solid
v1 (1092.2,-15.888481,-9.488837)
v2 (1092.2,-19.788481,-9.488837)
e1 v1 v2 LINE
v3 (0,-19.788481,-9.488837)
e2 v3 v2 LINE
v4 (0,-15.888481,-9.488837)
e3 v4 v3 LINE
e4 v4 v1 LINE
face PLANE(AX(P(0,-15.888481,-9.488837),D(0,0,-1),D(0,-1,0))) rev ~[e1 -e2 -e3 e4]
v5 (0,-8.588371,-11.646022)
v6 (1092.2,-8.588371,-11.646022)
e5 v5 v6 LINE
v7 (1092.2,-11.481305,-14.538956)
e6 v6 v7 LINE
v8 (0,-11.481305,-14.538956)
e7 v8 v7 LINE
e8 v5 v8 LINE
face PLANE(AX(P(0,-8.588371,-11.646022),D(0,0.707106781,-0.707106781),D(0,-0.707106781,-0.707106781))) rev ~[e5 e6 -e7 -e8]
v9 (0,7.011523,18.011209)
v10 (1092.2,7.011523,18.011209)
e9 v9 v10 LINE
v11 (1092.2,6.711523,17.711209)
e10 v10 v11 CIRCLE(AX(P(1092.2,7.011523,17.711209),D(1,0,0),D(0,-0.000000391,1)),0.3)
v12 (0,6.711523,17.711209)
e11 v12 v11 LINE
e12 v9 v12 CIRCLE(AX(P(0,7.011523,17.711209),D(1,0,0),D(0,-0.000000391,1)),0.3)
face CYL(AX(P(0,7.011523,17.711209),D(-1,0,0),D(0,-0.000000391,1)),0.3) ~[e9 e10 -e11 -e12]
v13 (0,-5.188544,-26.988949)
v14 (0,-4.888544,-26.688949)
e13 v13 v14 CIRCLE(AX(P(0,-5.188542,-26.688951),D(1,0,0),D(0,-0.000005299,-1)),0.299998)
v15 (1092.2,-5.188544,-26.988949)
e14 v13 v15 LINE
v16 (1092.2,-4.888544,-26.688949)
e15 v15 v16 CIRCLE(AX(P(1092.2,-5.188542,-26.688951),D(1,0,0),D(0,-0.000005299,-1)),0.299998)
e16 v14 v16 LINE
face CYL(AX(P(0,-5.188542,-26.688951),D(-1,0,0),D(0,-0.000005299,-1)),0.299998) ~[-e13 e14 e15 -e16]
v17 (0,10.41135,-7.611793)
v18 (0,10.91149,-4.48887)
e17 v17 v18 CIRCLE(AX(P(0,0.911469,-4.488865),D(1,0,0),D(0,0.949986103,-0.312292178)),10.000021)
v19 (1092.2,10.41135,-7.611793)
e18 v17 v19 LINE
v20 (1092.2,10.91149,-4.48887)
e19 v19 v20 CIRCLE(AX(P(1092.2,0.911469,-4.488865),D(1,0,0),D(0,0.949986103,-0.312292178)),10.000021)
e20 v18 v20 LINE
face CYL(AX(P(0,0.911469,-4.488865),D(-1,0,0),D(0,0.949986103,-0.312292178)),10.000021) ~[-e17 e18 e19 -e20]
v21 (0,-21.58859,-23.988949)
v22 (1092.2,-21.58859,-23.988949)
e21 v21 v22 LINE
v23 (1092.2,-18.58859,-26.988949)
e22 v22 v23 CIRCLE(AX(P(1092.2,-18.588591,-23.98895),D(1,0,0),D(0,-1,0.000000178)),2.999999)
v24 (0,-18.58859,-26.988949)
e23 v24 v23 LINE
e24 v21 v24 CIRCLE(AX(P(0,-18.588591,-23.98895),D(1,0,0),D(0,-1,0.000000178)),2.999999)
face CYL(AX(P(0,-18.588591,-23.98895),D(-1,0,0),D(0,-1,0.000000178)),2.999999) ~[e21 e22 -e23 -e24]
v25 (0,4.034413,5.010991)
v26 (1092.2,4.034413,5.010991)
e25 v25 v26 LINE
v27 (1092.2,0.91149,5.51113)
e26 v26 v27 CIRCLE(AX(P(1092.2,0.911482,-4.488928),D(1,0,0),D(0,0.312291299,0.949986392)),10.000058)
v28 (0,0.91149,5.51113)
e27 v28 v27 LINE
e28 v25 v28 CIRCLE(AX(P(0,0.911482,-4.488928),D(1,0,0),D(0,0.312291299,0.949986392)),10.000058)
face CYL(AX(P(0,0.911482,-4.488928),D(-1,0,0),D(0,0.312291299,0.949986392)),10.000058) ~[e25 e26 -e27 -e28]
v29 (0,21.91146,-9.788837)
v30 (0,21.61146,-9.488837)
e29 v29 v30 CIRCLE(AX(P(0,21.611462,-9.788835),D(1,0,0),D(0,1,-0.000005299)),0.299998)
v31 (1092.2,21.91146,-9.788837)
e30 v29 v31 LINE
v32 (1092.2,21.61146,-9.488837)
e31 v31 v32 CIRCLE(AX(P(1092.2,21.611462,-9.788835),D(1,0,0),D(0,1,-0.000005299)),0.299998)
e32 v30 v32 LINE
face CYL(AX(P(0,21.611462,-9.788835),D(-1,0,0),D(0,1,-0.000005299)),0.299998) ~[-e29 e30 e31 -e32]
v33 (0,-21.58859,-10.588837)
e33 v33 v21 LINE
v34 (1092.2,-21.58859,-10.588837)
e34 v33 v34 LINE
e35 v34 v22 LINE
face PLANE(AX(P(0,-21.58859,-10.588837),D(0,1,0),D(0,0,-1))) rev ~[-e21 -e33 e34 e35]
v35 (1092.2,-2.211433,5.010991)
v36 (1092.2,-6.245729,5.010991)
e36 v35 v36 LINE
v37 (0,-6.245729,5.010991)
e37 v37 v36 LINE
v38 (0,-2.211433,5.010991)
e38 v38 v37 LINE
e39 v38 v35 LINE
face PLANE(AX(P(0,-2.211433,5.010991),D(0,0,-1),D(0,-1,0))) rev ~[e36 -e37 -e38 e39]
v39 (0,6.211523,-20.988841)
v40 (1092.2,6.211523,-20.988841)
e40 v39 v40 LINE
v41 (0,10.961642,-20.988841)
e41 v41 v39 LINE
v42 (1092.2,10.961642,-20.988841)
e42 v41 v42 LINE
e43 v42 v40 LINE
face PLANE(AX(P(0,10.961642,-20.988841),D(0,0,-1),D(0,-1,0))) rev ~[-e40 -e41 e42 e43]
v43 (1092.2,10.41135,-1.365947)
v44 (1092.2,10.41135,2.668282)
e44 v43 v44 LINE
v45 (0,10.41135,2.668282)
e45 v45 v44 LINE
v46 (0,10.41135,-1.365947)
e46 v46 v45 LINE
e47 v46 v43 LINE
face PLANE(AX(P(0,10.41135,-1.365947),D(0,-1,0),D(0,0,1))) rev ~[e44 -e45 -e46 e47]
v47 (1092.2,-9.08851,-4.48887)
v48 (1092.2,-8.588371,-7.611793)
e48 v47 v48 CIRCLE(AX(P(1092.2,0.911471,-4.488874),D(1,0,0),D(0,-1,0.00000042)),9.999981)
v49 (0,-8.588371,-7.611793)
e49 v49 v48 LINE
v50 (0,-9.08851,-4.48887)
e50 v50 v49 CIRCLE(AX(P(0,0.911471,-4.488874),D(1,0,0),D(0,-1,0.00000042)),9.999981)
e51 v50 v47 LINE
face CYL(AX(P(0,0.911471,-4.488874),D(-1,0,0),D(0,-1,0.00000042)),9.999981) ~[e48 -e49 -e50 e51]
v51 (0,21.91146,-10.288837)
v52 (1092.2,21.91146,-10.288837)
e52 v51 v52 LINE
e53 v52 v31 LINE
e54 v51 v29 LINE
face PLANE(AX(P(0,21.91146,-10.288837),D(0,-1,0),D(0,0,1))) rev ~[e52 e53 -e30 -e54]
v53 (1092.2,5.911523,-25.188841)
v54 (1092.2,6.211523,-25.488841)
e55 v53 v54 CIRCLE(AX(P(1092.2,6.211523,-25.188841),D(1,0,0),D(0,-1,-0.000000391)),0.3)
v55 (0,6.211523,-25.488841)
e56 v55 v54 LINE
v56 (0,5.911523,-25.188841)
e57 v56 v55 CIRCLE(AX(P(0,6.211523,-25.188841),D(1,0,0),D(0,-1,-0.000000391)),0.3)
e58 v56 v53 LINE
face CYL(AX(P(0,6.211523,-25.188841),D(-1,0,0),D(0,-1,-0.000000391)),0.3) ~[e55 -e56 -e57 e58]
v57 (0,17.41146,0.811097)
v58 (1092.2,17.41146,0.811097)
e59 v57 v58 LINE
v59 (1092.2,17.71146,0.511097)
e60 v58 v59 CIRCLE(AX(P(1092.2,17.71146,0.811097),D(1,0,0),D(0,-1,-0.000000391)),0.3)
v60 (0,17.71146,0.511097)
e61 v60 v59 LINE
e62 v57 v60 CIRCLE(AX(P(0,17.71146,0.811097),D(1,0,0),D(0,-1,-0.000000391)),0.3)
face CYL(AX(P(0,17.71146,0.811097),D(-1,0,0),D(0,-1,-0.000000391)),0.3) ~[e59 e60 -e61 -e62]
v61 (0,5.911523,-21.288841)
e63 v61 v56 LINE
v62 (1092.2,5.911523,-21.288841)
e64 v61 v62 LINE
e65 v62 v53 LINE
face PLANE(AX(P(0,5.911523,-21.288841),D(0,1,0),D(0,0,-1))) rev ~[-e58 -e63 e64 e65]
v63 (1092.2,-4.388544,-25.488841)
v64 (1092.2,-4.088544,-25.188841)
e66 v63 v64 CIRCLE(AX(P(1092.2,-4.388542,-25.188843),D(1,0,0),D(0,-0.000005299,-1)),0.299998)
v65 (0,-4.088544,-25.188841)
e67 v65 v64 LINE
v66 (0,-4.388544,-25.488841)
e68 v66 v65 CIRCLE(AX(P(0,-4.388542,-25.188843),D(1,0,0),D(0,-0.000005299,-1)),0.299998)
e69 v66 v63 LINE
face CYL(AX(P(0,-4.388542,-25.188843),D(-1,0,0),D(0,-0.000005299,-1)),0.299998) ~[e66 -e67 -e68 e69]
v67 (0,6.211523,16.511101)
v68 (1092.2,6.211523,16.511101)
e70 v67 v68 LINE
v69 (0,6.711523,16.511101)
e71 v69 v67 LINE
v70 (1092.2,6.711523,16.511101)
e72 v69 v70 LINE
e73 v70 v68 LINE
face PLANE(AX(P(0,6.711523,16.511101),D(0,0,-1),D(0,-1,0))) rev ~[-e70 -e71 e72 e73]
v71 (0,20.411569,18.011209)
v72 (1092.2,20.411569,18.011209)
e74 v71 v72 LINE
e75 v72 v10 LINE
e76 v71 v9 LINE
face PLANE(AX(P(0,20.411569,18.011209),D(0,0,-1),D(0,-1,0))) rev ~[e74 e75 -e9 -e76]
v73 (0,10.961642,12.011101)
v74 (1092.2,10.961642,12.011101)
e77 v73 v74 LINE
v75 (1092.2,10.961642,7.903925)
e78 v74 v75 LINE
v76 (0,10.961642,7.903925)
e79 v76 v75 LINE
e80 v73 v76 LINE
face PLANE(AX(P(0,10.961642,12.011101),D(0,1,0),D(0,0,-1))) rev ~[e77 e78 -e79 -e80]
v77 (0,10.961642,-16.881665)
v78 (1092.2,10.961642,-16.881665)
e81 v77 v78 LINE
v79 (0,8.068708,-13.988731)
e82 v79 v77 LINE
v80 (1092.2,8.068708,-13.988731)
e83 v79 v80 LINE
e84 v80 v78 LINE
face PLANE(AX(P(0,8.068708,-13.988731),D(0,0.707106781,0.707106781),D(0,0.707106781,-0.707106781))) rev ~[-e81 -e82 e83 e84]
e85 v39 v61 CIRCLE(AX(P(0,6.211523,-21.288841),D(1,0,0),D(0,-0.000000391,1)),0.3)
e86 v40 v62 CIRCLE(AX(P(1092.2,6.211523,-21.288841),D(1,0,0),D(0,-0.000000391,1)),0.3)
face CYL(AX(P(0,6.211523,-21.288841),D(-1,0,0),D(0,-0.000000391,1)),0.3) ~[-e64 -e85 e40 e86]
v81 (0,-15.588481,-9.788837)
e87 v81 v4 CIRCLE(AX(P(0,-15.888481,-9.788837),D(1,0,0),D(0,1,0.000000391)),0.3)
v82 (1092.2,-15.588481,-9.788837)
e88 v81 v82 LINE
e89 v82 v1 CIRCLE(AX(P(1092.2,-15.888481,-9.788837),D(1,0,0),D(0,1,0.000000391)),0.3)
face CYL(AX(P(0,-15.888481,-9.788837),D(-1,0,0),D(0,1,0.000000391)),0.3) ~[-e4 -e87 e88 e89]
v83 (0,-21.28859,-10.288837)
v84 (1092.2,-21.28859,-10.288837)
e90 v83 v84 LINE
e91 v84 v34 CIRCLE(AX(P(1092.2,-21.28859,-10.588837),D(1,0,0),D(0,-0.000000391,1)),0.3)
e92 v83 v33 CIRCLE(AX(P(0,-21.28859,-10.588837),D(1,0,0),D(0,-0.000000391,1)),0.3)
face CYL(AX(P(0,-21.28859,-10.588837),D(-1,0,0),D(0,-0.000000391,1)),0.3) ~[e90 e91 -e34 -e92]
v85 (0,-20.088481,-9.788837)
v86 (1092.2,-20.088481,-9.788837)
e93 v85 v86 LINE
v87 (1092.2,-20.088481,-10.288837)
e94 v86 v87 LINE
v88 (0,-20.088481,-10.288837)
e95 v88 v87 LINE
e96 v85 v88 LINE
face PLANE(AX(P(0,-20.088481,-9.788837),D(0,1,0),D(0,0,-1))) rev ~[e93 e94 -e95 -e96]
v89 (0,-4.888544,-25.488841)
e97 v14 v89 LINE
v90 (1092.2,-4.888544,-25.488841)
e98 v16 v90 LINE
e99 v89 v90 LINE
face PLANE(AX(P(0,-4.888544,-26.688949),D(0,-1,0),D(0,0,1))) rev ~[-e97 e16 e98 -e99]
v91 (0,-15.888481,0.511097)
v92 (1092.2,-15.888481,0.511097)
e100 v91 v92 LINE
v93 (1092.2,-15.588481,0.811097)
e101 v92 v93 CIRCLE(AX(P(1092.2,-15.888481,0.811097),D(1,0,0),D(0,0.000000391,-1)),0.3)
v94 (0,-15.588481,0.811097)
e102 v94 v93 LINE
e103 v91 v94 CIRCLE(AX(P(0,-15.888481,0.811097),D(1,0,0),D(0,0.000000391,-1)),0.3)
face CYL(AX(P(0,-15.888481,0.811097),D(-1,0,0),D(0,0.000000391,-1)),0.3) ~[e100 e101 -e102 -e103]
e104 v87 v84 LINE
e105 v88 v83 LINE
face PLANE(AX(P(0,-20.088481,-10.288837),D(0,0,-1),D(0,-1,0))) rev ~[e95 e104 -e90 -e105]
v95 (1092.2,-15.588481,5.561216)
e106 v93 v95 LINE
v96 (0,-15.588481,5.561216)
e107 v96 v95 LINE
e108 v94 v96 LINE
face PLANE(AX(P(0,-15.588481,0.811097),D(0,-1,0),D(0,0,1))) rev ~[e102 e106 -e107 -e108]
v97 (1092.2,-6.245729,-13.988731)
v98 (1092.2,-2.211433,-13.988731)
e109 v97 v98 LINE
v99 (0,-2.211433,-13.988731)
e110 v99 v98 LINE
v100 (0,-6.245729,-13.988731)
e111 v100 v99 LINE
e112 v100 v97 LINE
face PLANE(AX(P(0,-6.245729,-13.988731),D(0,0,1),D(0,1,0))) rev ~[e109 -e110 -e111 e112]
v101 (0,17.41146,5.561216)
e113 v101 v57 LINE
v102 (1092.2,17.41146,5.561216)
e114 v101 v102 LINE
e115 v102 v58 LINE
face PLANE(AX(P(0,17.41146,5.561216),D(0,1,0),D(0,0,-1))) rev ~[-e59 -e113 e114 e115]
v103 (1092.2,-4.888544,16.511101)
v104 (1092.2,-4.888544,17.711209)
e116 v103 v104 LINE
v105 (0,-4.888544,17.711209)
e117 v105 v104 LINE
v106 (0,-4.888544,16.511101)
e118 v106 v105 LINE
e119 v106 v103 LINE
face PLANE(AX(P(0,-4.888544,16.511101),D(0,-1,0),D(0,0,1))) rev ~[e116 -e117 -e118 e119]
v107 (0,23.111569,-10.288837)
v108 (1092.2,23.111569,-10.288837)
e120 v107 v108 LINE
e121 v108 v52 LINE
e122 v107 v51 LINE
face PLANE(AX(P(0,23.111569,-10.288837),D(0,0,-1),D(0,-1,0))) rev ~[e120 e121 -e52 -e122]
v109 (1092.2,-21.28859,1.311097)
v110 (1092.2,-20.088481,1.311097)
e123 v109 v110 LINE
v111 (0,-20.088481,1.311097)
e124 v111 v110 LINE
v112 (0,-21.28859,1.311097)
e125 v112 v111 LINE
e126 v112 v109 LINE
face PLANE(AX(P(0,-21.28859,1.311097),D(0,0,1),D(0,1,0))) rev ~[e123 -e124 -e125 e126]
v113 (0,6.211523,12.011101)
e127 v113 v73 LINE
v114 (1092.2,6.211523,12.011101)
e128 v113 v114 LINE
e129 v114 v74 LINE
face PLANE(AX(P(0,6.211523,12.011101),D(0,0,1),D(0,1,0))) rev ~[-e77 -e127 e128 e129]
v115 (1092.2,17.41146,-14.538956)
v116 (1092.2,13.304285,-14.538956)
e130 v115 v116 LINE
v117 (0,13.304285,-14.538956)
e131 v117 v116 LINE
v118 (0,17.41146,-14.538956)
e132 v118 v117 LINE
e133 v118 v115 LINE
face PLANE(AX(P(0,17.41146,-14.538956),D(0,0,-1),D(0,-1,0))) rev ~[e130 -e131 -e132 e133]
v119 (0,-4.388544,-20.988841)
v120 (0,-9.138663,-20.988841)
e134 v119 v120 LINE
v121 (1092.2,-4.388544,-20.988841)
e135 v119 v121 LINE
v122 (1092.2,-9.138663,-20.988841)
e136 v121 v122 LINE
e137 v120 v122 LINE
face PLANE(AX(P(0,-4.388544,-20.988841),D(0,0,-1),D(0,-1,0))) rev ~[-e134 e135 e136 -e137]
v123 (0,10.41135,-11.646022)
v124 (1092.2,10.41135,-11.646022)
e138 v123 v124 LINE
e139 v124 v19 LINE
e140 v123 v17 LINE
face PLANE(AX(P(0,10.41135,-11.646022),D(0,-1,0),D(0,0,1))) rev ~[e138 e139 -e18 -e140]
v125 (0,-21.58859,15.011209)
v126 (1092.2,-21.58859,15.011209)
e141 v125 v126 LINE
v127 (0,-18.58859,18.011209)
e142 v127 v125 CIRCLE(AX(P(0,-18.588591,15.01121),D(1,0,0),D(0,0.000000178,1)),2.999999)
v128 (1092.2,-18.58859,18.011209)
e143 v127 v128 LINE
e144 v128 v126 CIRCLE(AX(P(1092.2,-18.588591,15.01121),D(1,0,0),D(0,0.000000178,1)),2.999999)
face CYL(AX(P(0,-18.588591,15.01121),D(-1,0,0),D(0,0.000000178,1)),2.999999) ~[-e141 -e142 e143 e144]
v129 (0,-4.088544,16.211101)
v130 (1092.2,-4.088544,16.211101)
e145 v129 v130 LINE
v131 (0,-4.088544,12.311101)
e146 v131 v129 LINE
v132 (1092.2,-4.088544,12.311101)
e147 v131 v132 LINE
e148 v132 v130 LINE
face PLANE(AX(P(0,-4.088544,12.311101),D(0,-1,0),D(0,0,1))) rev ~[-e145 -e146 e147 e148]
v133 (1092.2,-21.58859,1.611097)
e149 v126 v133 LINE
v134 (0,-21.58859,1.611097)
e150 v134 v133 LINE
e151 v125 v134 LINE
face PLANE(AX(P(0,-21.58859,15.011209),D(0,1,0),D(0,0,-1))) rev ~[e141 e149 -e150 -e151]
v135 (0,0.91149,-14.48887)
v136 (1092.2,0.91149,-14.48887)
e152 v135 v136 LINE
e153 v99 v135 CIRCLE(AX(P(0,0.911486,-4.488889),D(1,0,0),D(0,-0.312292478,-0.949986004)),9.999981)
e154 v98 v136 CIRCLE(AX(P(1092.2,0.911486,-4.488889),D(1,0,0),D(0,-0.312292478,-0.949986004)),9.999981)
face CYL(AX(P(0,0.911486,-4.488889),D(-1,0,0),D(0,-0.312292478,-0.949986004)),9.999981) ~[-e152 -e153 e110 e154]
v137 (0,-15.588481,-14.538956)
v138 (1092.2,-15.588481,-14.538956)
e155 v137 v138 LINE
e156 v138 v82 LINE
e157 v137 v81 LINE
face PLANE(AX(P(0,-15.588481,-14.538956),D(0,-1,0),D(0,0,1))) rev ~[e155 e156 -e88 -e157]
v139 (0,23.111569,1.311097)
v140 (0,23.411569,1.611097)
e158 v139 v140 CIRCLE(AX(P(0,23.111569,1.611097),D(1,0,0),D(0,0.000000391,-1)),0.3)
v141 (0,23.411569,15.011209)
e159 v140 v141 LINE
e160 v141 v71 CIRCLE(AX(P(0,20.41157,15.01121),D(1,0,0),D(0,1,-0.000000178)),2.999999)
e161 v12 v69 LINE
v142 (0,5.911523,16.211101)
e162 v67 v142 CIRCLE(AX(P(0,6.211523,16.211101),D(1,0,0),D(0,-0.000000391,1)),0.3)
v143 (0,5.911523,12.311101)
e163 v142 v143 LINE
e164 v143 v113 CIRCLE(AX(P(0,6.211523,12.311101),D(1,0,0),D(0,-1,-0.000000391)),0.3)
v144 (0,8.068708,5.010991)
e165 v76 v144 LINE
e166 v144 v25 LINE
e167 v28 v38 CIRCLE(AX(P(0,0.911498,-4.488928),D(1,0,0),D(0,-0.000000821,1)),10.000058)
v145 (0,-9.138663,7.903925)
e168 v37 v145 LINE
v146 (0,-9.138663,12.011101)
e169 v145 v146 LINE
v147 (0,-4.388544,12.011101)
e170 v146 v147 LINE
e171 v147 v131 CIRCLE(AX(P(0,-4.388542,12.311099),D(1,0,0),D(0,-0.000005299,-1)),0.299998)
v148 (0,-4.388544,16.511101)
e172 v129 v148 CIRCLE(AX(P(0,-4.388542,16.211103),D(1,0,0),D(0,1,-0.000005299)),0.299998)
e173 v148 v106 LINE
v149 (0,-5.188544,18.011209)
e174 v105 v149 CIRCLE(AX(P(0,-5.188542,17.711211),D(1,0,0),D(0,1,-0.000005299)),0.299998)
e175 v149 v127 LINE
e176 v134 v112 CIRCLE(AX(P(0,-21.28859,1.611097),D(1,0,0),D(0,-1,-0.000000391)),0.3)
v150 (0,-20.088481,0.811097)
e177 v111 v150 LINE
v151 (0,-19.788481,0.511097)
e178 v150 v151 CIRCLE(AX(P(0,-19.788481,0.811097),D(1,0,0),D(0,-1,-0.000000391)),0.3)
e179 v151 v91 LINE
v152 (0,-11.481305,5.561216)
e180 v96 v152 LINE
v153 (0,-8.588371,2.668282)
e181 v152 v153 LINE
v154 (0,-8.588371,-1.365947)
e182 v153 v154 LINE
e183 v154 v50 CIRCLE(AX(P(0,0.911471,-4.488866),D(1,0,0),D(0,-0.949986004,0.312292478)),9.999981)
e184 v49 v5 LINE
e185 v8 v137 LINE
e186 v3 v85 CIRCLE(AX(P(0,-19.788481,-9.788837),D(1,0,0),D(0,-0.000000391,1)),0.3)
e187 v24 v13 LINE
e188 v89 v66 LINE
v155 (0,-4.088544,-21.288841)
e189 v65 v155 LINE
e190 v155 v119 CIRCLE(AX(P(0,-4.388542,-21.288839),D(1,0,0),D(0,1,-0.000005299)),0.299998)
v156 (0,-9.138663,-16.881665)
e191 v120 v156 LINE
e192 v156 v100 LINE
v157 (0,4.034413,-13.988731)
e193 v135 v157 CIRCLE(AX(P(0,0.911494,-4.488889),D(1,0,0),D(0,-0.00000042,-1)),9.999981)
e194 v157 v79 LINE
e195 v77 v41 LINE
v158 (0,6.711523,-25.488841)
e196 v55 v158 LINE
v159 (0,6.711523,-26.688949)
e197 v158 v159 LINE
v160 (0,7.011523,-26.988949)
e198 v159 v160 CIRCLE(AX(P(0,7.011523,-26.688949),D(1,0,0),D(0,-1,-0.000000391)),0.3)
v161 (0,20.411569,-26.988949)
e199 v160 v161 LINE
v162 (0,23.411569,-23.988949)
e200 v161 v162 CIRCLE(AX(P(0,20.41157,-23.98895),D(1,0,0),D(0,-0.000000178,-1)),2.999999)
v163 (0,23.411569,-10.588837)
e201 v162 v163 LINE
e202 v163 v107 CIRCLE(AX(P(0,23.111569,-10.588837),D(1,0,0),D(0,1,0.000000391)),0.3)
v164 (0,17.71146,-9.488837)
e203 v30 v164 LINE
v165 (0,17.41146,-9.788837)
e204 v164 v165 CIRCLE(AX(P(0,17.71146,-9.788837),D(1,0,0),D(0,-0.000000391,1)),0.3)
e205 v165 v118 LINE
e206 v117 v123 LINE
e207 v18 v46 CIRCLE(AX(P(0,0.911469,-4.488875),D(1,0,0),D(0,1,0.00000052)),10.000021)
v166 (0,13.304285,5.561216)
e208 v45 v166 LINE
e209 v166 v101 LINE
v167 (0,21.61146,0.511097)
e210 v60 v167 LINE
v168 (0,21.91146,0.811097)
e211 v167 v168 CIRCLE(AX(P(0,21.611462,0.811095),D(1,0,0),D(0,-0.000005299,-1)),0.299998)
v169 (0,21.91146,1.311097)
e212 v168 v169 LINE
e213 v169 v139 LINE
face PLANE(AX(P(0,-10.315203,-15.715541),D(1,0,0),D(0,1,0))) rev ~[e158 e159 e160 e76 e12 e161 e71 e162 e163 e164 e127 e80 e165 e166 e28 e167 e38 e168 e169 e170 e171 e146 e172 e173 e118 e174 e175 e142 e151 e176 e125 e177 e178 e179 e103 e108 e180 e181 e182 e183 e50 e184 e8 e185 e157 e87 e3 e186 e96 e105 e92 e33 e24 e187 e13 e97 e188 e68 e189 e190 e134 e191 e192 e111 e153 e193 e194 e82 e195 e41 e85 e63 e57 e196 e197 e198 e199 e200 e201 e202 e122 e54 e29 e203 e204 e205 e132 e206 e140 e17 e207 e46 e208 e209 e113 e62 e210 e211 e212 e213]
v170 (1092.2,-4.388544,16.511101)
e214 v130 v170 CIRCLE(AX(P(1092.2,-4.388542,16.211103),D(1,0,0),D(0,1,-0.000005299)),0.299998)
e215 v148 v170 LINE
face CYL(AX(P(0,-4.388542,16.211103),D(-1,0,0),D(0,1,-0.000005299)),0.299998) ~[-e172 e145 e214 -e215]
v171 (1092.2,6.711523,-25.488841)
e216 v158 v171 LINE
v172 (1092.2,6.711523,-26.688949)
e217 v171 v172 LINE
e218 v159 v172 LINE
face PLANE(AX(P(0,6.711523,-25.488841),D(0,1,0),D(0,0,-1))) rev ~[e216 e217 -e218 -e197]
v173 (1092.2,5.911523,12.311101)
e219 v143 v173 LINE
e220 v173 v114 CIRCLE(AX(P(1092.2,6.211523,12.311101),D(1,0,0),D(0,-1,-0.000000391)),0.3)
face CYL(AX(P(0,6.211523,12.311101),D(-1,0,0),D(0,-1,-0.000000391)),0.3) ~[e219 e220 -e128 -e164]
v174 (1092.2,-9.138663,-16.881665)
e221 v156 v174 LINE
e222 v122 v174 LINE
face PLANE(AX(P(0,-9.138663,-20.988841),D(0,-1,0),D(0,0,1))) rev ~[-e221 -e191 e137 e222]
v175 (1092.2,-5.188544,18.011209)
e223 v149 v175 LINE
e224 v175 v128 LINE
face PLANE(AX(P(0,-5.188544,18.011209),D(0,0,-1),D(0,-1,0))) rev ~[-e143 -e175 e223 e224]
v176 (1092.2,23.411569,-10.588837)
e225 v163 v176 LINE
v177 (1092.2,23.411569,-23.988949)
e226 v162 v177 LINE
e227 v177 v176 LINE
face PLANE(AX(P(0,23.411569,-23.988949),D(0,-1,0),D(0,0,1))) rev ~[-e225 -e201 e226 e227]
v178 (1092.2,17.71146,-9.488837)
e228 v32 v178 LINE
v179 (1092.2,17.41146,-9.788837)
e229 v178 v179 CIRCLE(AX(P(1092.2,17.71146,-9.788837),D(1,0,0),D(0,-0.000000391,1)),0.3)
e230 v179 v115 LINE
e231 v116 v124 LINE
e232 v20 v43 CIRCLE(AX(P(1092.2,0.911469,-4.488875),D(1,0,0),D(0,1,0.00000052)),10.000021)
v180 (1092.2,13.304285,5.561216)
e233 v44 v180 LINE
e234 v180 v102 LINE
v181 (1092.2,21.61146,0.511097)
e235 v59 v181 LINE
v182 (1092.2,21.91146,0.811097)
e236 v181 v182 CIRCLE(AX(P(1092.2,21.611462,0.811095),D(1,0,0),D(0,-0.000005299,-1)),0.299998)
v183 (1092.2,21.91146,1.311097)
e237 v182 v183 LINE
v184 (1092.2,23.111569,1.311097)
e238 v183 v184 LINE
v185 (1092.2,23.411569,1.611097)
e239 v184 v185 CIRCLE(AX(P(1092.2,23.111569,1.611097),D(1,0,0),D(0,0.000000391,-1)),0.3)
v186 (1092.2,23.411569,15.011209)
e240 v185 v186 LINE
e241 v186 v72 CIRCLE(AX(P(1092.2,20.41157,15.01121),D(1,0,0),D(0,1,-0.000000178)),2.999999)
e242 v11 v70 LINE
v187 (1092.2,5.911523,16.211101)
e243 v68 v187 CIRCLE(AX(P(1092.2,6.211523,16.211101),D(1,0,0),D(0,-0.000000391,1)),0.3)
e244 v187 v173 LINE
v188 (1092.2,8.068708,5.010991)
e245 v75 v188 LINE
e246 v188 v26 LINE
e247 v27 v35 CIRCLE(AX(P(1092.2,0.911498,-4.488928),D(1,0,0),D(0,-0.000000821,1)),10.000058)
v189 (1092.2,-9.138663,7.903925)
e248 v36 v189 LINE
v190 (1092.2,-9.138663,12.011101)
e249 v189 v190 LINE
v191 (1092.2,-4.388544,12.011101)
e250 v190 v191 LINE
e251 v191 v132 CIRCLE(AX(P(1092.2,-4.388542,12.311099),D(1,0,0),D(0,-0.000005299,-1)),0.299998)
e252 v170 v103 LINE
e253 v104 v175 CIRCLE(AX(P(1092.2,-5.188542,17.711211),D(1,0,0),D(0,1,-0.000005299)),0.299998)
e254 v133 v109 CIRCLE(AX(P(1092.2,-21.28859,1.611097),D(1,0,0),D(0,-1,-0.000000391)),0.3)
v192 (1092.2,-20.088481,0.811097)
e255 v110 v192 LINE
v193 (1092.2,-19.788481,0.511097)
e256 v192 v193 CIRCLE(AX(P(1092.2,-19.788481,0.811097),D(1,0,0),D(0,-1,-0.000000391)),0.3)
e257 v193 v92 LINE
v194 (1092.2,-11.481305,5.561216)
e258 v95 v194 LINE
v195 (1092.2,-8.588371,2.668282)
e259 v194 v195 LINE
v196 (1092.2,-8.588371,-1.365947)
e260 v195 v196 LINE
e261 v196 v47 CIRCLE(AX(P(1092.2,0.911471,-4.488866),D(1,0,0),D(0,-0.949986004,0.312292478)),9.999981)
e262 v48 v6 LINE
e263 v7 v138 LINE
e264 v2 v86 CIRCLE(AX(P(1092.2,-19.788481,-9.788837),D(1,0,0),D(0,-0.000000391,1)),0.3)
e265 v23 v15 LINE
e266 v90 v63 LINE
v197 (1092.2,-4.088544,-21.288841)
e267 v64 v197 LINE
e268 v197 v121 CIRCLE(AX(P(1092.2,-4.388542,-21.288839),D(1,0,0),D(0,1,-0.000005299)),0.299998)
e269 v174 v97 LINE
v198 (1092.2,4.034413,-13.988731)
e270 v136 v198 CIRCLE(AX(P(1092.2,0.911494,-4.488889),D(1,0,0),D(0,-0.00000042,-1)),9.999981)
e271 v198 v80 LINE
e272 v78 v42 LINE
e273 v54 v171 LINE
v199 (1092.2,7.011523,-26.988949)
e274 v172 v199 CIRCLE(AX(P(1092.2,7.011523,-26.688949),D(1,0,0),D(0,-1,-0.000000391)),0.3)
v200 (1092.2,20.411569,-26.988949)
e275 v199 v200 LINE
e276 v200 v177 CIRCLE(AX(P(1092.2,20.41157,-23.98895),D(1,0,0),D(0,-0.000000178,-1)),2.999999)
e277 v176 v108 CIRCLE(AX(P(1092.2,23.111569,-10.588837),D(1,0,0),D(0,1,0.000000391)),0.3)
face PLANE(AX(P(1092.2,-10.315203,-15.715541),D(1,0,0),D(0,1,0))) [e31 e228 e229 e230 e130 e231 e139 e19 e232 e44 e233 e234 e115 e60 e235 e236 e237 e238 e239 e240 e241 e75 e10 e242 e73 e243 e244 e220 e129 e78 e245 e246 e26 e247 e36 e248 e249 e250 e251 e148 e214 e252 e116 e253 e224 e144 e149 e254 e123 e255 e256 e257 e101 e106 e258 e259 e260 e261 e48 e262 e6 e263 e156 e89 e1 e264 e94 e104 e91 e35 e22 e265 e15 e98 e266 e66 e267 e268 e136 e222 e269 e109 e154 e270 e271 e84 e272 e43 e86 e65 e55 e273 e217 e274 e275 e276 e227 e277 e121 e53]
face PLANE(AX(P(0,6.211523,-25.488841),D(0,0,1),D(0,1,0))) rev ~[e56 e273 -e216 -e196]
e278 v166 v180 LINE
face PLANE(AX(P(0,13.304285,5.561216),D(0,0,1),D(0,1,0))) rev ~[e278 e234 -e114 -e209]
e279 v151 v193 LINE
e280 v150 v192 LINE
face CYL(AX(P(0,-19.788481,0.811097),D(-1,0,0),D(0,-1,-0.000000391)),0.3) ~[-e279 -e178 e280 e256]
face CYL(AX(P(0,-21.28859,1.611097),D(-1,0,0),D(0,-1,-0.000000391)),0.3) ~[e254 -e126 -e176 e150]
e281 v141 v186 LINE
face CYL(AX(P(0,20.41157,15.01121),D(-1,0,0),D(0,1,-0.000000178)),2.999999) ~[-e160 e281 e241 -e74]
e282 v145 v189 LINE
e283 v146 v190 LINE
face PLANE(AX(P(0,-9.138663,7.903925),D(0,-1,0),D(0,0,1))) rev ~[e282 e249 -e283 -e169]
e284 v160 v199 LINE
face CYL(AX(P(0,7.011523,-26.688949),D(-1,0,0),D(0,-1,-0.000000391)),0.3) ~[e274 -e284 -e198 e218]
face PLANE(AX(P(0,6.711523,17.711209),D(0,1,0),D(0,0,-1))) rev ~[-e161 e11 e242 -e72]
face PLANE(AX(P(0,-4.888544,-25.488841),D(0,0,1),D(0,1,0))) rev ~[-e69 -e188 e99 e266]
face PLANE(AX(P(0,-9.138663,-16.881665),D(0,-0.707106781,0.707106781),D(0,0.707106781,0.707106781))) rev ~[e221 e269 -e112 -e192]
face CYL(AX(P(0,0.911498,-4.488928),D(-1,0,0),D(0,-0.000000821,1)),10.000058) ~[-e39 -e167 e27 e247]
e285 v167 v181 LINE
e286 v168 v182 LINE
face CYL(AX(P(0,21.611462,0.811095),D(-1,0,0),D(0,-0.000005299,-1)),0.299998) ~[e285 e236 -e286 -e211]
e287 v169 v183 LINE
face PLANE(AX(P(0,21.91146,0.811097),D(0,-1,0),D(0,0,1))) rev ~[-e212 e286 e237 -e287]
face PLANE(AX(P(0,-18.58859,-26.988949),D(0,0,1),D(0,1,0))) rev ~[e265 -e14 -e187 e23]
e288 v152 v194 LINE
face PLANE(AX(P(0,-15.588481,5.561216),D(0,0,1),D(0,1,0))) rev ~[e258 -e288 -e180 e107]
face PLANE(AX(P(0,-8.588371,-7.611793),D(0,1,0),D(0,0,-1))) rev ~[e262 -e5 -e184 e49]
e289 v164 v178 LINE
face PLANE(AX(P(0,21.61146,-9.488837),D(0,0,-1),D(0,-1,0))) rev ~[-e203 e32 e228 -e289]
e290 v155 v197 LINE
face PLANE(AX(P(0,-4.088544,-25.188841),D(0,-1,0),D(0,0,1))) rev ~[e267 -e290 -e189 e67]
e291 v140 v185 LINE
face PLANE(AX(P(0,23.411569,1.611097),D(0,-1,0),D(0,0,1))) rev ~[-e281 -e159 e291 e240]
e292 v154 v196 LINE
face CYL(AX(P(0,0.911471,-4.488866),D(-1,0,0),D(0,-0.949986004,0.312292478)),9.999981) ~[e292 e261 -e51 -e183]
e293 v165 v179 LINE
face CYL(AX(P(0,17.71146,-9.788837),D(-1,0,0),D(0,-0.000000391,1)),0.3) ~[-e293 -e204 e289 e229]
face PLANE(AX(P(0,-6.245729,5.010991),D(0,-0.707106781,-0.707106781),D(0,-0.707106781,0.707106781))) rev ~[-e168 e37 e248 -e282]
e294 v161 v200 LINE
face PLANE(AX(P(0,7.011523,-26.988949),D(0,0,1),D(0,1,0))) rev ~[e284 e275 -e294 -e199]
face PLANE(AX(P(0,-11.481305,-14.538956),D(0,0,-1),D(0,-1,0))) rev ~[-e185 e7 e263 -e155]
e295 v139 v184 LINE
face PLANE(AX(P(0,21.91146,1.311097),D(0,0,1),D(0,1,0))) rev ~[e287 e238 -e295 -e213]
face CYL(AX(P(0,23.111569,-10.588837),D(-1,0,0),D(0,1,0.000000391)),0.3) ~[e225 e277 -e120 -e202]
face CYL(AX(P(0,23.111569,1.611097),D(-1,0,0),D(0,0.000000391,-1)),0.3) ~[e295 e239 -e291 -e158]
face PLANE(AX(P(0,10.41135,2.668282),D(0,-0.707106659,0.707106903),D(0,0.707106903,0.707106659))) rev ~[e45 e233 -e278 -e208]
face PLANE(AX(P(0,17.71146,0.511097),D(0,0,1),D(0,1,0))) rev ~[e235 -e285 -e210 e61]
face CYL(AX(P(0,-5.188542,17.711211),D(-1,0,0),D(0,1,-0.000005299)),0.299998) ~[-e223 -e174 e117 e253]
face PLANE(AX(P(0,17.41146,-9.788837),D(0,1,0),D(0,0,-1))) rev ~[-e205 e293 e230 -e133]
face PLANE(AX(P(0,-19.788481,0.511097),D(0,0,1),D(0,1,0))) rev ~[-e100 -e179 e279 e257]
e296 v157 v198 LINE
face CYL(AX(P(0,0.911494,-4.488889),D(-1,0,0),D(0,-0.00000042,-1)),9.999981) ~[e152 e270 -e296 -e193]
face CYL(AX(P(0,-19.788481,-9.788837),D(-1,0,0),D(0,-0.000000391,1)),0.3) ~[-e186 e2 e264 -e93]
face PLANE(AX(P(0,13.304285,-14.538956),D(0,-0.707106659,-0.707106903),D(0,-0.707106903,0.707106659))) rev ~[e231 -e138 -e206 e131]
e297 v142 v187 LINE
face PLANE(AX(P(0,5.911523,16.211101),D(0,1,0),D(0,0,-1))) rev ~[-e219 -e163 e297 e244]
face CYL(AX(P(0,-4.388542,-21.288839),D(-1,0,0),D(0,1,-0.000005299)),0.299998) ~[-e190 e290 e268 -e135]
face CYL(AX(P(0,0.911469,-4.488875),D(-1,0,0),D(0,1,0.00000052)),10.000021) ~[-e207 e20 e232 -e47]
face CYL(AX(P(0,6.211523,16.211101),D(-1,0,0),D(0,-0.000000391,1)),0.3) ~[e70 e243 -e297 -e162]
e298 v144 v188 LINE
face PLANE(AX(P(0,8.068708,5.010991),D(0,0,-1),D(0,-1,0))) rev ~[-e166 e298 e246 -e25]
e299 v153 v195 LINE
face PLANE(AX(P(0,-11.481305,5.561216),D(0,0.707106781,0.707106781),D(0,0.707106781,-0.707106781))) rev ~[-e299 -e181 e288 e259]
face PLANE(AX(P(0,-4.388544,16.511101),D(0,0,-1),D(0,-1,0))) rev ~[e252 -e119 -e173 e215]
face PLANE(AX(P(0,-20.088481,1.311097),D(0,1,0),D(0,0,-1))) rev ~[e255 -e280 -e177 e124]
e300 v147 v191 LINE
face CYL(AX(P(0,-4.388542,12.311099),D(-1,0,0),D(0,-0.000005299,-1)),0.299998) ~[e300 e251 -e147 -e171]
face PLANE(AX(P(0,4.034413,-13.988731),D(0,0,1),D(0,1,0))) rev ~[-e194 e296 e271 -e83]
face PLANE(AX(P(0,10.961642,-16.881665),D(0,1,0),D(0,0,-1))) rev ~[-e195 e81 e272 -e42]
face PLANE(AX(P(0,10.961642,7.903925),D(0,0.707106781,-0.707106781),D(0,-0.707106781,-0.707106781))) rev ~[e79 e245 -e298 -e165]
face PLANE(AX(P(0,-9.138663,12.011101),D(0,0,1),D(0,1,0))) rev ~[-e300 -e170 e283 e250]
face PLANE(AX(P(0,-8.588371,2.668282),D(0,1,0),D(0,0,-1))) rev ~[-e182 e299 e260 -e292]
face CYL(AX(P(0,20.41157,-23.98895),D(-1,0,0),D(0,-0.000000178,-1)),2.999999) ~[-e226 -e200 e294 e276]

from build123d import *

# Parameters (mm, degrees)
F1_DEPTH = 1092.2


with BuildPart() as f1:
    # F0 (on Right) → F1 (new body)
    with BuildSketch(Plane.YZ):
        with BuildLine():
            Line((-20.088481, -9.788837), (-20.088481, -10.288837))
            Line((-20.088481, -10.288837), (-21.28859, -10.288837))
            ThreePointArc((-21.28859, -10.288837), (-21.500722, -10.376705), (-21.58859, -10.588837))
            Line((-21.58859, -10.588837), (-21.58859, -23.988949))
            ThreePointArc((-21.58859, -23.988949), (-20.70991, -26.11027), (-18.58859, -26.988949))
            Line((-18.58859, -26.988949), (-5.188544, -26.988949))
            ThreePointArc((-5.188544, -26.988949), (-4.976411, -26.901081), (-4.888544, -26.688949))
            Line((-4.888544, -26.688949), (-4.888544, -25.488841))
            Line((-4.888544, -25.488841), (-4.388544, -25.488841))
            ThreePointArc((-4.388544, -25.488841), (-4.176411, -25.400973), (-4.088544, -25.188841))
            Line((-4.088544, -25.188841), (-4.088544, -21.288841))
            ThreePointArc((-4.088544, -21.288841), (-4.176411, -21.076709), (-4.388544, -20.988841))
            Line((-4.388544, -20.988841), (-9.138663, -20.988841))
            Line((-9.138663, -20.988841), (-9.138663, -16.881665))
            Line((-9.138663, -16.881665), (-6.245729, -13.988731))
            Line((-6.245729, -13.988731), (-2.211433, -13.988731))
            ThreePointArc((-2.211433, -13.988731), (-0.669869, -14.363044), (0.91149, -14.48887))
            Line((0.91149, -14.48887), (0.91149, -4.48887))
            Line((0.91149, -4.48887), (-9.08851, -4.48887))
            ThreePointArc((-9.08851, -4.48887), (-8.962684, -6.070229), (-8.588371, -7.611793))
            Line((-8.588371, -7.611793), (-8.588371, -11.646022))
            Line((-8.588371, -11.646022), (-11.481305, -14.538956))
            Line((-11.481305, -14.538956), (-15.588481, -14.538956))
            Line((-15.588481, -14.538956), (-15.588481, -9.788837))
            ThreePointArc((-15.588481, -9.788837), (-15.676349, -9.576705), (-15.888481, -9.488837))
            Line((-15.888481, -9.488837), (-19.788481, -9.488837))
            ThreePointArc((-19.788481, -9.488837), (-20.000613, -9.576705), (-20.088481, -9.788837))
        make_face()
        with BuildLine():
            ThreePointArc((-8.588371, -1.365947), (-8.962684, -2.907511), (-9.08851, -4.48887))
            Line((-9.08851, -4.48887), (0.91149, -4.48887))
            Line((0.91149, -4.48887), (0.91149, 5.51113))
            ThreePointArc((0.91149, 5.51113), (-0.669869, 5.385303), (-2.211433, 5.010991))
            Line((-2.211433, 5.010991), (-6.245729, 5.010991))
            Line((-6.245729, 5.010991), (-9.138663, 7.903925))
            Line((-9.138663, 7.903925), (-9.138663, 12.011101))
            Line((-9.138663, 12.011101), (-4.388544, 12.011101))
            ThreePointArc((-4.388544, 12.011101), (-4.176411, 12.098969), (-4.088544, 12.311101))
            Line((-4.088544, 12.311101), (-4.088544, 16.211101))
            ThreePointArc((-4.088544, 16.211101), (-4.176411, 16.423233), (-4.388544, 16.511101))
            Line((-4.388544, 16.511101), (-4.888544, 16.511101))
            Line((-4.888544, 16.511101), (-4.888544, 17.711209))
            ThreePointArc((-4.888544, 17.711209), (-4.976411, 17.923341), (-5.188544, 18.011209))
            Line((-5.188544, 18.011209), (-18.58859, 18.011209))
            ThreePointArc((-18.58859, 18.011209), (-20.70991, 17.13253), (-21.58859, 15.011209))
            Line((-21.58859, 15.011209), (-21.58859, 1.611097))
            ThreePointArc((-21.58859, 1.611097), (-21.500722, 1.398965), (-21.28859, 1.311097))
            Line((-21.28859, 1.311097), (-20.088481, 1.311097))
            Line((-20.088481, 1.311097), (-20.088481, 0.811097))
            ThreePointArc((-20.088481, 0.811097), (-20.000613, 0.598965), (-19.788481, 0.511097))
            Line((-19.788481, 0.511097), (-15.888481, 0.511097))
            ThreePointArc((-15.888481, 0.511097), (-15.676349, 0.598965), (-15.588481, 0.811097))
            Line((-15.588481, 0.811097), (-15.588481, 5.561216))
            Line((-15.588481, 5.561216), (-11.481305, 5.561216))
            Line((-11.481305, 5.561216), (-8.588371, 2.668282))
            Line((-8.588371, 2.668282), (-8.588371, -1.365947))
        make_face()
        with BuildLine():
            Line((0.91149, 5.51113), (0.91149, -4.48887))
            Line((0.91149, -4.48887), (10.91149, -4.48887))
            ThreePointArc((10.91149, -4.48887), (10.785663, -2.907511), (10.41135, -1.365947))
            Line((10.41135, -1.365947), (10.41135, 2.668282))
            Line((10.41135, 2.668282), (13.304285, 5.561216))
            Line((13.304285, 5.561216), (14.016842, 5.561216))
            Line((14.016842, 5.561216), (17.41146, 5.561216))
            Line((17.41146, 5.561216), (17.41146, 0.811097))
            ThreePointArc((17.41146, 0.811097), (17.499328, 0.598965), (17.71146, 0.511097))
            Line((17.71146, 0.511097), (21.61146, 0.511097))
            ThreePointArc((21.61146, 0.511097), (21.823593, 0.598965), (21.91146, 0.811097))
            Line((21.91146, 0.811097), (21.91146, 1.311097))
            Line((21.91146, 1.311097), (23.111569, 1.311097))
            ThreePointArc((23.111569, 1.311097), (23.323701, 1.398965), (23.411569, 1.611097))
            Line((23.411569, 1.611097), (23.411569, 15.011209))
            ThreePointArc((23.411569, 15.011209), (22.532889, 17.13253), (20.411569, 18.011209))
            Line((20.411569, 18.011209), (7.011523, 18.011209))
            ThreePointArc((7.011523, 18.011209), (6.799391, 17.923341), (6.711523, 17.711209))
            Line((6.711523, 17.711209), (6.711523, 16.511101))
            Line((6.711523, 16.511101), (6.211523, 16.511101))
            ThreePointArc((6.211523, 16.511101), (5.999391, 16.423233), (5.911523, 16.211101))
            Line((5.911523, 16.211101), (5.911523, 12.311101))
            ThreePointArc((5.911523, 12.311101), (5.999391, 12.098969), (6.211523, 12.011101))
            Line((6.211523, 12.011101), (10.961642, 12.011101))
            Line((10.961642, 12.011101), (10.961642, 7.903925))
            Line((10.961642, 7.903925), (8.068708, 5.010991))
            Line((8.068708, 5.010991), (4.034413, 5.010991))
            ThreePointArc((4.034413, 5.010991), (2.492849, 5.385303), (0.91149, 5.51113))
        make_face()
        with BuildLine():
            Line((10.91149, -4.48887), (0.91149, -4.48887))
            Line((0.91149, -4.48887), (0.91149, -14.48887))
            ThreePointArc((0.91149, -14.48887), (2.492849, -14.363044), (4.034413, -13.988731))
            Line((4.034413, -13.988731), (8.068708, -13.988731))
            Line((8.068708, -13.988731), (10.961642, -16.881665))
            Line((10.961642, -16.881665), (10.961642, -20.988841))
            Line((10.961642, -20.988841), (6.211523, -20.988841))
            ThreePointArc((6.211523, -20.988841), (5.999391, -21.076709), (5.911523, -21.288841))
            Line((5.911523, -21.288841), (5.911523, -25.188841))
            ThreePointArc((5.911523, -25.188841), (5.999391, -25.400973), (6.211523, -25.488841))
            Line((6.211523, -25.488841), (6.711523, -25.488841))
            Line((6.711523, -25.488841), (6.711523, -26.688949))
            ThreePointArc((6.711523, -26.688949), (6.799391, -26.901081), (7.011523, -26.988949))
            Line((7.011523, -26.988949), (20.411569, -26.988949))
            ThreePointArc((20.411569, -26.988949), (22.532889, -26.11027), (23.411569, -23.988949))
            Line((23.411569, -23.988949), (23.411569, -10.588837))
            ThreePointArc((23.411569, -10.588837), (23.323701, -10.376705), (23.111569, -10.288837))
            Line((23.111569, -10.288837), (21.91146, -10.288837))
            Line((21.91146, -10.288837), (21.91146, -9.788837))
            ThreePointArc((21.91146, -9.788837), (21.823593, -9.576705), (21.61146, -9.488837))
            Line((21.61146, -9.488837), (17.71146, -9.488837))
            ThreePointArc((17.71146, -9.488837), (17.499328, -9.576705), (17.41146, -9.788837))
            Line((17.41146, -9.788837), (17.41146, -14.538956))
            Line((17.41146, -14.538956), (13.304285, -14.538956))
            Line((13.304285, -14.538956), (10.41135, -11.646022))
            Line((10.41135, -11.646022), (10.41135, -7.611793))
            ThreePointArc((10.41135, -7.611793), (10.785663, -6.070229), (10.91149, -4.48887))
        make_face()
    extrude(amount=F1_DEPTH)


solid = f1.part
